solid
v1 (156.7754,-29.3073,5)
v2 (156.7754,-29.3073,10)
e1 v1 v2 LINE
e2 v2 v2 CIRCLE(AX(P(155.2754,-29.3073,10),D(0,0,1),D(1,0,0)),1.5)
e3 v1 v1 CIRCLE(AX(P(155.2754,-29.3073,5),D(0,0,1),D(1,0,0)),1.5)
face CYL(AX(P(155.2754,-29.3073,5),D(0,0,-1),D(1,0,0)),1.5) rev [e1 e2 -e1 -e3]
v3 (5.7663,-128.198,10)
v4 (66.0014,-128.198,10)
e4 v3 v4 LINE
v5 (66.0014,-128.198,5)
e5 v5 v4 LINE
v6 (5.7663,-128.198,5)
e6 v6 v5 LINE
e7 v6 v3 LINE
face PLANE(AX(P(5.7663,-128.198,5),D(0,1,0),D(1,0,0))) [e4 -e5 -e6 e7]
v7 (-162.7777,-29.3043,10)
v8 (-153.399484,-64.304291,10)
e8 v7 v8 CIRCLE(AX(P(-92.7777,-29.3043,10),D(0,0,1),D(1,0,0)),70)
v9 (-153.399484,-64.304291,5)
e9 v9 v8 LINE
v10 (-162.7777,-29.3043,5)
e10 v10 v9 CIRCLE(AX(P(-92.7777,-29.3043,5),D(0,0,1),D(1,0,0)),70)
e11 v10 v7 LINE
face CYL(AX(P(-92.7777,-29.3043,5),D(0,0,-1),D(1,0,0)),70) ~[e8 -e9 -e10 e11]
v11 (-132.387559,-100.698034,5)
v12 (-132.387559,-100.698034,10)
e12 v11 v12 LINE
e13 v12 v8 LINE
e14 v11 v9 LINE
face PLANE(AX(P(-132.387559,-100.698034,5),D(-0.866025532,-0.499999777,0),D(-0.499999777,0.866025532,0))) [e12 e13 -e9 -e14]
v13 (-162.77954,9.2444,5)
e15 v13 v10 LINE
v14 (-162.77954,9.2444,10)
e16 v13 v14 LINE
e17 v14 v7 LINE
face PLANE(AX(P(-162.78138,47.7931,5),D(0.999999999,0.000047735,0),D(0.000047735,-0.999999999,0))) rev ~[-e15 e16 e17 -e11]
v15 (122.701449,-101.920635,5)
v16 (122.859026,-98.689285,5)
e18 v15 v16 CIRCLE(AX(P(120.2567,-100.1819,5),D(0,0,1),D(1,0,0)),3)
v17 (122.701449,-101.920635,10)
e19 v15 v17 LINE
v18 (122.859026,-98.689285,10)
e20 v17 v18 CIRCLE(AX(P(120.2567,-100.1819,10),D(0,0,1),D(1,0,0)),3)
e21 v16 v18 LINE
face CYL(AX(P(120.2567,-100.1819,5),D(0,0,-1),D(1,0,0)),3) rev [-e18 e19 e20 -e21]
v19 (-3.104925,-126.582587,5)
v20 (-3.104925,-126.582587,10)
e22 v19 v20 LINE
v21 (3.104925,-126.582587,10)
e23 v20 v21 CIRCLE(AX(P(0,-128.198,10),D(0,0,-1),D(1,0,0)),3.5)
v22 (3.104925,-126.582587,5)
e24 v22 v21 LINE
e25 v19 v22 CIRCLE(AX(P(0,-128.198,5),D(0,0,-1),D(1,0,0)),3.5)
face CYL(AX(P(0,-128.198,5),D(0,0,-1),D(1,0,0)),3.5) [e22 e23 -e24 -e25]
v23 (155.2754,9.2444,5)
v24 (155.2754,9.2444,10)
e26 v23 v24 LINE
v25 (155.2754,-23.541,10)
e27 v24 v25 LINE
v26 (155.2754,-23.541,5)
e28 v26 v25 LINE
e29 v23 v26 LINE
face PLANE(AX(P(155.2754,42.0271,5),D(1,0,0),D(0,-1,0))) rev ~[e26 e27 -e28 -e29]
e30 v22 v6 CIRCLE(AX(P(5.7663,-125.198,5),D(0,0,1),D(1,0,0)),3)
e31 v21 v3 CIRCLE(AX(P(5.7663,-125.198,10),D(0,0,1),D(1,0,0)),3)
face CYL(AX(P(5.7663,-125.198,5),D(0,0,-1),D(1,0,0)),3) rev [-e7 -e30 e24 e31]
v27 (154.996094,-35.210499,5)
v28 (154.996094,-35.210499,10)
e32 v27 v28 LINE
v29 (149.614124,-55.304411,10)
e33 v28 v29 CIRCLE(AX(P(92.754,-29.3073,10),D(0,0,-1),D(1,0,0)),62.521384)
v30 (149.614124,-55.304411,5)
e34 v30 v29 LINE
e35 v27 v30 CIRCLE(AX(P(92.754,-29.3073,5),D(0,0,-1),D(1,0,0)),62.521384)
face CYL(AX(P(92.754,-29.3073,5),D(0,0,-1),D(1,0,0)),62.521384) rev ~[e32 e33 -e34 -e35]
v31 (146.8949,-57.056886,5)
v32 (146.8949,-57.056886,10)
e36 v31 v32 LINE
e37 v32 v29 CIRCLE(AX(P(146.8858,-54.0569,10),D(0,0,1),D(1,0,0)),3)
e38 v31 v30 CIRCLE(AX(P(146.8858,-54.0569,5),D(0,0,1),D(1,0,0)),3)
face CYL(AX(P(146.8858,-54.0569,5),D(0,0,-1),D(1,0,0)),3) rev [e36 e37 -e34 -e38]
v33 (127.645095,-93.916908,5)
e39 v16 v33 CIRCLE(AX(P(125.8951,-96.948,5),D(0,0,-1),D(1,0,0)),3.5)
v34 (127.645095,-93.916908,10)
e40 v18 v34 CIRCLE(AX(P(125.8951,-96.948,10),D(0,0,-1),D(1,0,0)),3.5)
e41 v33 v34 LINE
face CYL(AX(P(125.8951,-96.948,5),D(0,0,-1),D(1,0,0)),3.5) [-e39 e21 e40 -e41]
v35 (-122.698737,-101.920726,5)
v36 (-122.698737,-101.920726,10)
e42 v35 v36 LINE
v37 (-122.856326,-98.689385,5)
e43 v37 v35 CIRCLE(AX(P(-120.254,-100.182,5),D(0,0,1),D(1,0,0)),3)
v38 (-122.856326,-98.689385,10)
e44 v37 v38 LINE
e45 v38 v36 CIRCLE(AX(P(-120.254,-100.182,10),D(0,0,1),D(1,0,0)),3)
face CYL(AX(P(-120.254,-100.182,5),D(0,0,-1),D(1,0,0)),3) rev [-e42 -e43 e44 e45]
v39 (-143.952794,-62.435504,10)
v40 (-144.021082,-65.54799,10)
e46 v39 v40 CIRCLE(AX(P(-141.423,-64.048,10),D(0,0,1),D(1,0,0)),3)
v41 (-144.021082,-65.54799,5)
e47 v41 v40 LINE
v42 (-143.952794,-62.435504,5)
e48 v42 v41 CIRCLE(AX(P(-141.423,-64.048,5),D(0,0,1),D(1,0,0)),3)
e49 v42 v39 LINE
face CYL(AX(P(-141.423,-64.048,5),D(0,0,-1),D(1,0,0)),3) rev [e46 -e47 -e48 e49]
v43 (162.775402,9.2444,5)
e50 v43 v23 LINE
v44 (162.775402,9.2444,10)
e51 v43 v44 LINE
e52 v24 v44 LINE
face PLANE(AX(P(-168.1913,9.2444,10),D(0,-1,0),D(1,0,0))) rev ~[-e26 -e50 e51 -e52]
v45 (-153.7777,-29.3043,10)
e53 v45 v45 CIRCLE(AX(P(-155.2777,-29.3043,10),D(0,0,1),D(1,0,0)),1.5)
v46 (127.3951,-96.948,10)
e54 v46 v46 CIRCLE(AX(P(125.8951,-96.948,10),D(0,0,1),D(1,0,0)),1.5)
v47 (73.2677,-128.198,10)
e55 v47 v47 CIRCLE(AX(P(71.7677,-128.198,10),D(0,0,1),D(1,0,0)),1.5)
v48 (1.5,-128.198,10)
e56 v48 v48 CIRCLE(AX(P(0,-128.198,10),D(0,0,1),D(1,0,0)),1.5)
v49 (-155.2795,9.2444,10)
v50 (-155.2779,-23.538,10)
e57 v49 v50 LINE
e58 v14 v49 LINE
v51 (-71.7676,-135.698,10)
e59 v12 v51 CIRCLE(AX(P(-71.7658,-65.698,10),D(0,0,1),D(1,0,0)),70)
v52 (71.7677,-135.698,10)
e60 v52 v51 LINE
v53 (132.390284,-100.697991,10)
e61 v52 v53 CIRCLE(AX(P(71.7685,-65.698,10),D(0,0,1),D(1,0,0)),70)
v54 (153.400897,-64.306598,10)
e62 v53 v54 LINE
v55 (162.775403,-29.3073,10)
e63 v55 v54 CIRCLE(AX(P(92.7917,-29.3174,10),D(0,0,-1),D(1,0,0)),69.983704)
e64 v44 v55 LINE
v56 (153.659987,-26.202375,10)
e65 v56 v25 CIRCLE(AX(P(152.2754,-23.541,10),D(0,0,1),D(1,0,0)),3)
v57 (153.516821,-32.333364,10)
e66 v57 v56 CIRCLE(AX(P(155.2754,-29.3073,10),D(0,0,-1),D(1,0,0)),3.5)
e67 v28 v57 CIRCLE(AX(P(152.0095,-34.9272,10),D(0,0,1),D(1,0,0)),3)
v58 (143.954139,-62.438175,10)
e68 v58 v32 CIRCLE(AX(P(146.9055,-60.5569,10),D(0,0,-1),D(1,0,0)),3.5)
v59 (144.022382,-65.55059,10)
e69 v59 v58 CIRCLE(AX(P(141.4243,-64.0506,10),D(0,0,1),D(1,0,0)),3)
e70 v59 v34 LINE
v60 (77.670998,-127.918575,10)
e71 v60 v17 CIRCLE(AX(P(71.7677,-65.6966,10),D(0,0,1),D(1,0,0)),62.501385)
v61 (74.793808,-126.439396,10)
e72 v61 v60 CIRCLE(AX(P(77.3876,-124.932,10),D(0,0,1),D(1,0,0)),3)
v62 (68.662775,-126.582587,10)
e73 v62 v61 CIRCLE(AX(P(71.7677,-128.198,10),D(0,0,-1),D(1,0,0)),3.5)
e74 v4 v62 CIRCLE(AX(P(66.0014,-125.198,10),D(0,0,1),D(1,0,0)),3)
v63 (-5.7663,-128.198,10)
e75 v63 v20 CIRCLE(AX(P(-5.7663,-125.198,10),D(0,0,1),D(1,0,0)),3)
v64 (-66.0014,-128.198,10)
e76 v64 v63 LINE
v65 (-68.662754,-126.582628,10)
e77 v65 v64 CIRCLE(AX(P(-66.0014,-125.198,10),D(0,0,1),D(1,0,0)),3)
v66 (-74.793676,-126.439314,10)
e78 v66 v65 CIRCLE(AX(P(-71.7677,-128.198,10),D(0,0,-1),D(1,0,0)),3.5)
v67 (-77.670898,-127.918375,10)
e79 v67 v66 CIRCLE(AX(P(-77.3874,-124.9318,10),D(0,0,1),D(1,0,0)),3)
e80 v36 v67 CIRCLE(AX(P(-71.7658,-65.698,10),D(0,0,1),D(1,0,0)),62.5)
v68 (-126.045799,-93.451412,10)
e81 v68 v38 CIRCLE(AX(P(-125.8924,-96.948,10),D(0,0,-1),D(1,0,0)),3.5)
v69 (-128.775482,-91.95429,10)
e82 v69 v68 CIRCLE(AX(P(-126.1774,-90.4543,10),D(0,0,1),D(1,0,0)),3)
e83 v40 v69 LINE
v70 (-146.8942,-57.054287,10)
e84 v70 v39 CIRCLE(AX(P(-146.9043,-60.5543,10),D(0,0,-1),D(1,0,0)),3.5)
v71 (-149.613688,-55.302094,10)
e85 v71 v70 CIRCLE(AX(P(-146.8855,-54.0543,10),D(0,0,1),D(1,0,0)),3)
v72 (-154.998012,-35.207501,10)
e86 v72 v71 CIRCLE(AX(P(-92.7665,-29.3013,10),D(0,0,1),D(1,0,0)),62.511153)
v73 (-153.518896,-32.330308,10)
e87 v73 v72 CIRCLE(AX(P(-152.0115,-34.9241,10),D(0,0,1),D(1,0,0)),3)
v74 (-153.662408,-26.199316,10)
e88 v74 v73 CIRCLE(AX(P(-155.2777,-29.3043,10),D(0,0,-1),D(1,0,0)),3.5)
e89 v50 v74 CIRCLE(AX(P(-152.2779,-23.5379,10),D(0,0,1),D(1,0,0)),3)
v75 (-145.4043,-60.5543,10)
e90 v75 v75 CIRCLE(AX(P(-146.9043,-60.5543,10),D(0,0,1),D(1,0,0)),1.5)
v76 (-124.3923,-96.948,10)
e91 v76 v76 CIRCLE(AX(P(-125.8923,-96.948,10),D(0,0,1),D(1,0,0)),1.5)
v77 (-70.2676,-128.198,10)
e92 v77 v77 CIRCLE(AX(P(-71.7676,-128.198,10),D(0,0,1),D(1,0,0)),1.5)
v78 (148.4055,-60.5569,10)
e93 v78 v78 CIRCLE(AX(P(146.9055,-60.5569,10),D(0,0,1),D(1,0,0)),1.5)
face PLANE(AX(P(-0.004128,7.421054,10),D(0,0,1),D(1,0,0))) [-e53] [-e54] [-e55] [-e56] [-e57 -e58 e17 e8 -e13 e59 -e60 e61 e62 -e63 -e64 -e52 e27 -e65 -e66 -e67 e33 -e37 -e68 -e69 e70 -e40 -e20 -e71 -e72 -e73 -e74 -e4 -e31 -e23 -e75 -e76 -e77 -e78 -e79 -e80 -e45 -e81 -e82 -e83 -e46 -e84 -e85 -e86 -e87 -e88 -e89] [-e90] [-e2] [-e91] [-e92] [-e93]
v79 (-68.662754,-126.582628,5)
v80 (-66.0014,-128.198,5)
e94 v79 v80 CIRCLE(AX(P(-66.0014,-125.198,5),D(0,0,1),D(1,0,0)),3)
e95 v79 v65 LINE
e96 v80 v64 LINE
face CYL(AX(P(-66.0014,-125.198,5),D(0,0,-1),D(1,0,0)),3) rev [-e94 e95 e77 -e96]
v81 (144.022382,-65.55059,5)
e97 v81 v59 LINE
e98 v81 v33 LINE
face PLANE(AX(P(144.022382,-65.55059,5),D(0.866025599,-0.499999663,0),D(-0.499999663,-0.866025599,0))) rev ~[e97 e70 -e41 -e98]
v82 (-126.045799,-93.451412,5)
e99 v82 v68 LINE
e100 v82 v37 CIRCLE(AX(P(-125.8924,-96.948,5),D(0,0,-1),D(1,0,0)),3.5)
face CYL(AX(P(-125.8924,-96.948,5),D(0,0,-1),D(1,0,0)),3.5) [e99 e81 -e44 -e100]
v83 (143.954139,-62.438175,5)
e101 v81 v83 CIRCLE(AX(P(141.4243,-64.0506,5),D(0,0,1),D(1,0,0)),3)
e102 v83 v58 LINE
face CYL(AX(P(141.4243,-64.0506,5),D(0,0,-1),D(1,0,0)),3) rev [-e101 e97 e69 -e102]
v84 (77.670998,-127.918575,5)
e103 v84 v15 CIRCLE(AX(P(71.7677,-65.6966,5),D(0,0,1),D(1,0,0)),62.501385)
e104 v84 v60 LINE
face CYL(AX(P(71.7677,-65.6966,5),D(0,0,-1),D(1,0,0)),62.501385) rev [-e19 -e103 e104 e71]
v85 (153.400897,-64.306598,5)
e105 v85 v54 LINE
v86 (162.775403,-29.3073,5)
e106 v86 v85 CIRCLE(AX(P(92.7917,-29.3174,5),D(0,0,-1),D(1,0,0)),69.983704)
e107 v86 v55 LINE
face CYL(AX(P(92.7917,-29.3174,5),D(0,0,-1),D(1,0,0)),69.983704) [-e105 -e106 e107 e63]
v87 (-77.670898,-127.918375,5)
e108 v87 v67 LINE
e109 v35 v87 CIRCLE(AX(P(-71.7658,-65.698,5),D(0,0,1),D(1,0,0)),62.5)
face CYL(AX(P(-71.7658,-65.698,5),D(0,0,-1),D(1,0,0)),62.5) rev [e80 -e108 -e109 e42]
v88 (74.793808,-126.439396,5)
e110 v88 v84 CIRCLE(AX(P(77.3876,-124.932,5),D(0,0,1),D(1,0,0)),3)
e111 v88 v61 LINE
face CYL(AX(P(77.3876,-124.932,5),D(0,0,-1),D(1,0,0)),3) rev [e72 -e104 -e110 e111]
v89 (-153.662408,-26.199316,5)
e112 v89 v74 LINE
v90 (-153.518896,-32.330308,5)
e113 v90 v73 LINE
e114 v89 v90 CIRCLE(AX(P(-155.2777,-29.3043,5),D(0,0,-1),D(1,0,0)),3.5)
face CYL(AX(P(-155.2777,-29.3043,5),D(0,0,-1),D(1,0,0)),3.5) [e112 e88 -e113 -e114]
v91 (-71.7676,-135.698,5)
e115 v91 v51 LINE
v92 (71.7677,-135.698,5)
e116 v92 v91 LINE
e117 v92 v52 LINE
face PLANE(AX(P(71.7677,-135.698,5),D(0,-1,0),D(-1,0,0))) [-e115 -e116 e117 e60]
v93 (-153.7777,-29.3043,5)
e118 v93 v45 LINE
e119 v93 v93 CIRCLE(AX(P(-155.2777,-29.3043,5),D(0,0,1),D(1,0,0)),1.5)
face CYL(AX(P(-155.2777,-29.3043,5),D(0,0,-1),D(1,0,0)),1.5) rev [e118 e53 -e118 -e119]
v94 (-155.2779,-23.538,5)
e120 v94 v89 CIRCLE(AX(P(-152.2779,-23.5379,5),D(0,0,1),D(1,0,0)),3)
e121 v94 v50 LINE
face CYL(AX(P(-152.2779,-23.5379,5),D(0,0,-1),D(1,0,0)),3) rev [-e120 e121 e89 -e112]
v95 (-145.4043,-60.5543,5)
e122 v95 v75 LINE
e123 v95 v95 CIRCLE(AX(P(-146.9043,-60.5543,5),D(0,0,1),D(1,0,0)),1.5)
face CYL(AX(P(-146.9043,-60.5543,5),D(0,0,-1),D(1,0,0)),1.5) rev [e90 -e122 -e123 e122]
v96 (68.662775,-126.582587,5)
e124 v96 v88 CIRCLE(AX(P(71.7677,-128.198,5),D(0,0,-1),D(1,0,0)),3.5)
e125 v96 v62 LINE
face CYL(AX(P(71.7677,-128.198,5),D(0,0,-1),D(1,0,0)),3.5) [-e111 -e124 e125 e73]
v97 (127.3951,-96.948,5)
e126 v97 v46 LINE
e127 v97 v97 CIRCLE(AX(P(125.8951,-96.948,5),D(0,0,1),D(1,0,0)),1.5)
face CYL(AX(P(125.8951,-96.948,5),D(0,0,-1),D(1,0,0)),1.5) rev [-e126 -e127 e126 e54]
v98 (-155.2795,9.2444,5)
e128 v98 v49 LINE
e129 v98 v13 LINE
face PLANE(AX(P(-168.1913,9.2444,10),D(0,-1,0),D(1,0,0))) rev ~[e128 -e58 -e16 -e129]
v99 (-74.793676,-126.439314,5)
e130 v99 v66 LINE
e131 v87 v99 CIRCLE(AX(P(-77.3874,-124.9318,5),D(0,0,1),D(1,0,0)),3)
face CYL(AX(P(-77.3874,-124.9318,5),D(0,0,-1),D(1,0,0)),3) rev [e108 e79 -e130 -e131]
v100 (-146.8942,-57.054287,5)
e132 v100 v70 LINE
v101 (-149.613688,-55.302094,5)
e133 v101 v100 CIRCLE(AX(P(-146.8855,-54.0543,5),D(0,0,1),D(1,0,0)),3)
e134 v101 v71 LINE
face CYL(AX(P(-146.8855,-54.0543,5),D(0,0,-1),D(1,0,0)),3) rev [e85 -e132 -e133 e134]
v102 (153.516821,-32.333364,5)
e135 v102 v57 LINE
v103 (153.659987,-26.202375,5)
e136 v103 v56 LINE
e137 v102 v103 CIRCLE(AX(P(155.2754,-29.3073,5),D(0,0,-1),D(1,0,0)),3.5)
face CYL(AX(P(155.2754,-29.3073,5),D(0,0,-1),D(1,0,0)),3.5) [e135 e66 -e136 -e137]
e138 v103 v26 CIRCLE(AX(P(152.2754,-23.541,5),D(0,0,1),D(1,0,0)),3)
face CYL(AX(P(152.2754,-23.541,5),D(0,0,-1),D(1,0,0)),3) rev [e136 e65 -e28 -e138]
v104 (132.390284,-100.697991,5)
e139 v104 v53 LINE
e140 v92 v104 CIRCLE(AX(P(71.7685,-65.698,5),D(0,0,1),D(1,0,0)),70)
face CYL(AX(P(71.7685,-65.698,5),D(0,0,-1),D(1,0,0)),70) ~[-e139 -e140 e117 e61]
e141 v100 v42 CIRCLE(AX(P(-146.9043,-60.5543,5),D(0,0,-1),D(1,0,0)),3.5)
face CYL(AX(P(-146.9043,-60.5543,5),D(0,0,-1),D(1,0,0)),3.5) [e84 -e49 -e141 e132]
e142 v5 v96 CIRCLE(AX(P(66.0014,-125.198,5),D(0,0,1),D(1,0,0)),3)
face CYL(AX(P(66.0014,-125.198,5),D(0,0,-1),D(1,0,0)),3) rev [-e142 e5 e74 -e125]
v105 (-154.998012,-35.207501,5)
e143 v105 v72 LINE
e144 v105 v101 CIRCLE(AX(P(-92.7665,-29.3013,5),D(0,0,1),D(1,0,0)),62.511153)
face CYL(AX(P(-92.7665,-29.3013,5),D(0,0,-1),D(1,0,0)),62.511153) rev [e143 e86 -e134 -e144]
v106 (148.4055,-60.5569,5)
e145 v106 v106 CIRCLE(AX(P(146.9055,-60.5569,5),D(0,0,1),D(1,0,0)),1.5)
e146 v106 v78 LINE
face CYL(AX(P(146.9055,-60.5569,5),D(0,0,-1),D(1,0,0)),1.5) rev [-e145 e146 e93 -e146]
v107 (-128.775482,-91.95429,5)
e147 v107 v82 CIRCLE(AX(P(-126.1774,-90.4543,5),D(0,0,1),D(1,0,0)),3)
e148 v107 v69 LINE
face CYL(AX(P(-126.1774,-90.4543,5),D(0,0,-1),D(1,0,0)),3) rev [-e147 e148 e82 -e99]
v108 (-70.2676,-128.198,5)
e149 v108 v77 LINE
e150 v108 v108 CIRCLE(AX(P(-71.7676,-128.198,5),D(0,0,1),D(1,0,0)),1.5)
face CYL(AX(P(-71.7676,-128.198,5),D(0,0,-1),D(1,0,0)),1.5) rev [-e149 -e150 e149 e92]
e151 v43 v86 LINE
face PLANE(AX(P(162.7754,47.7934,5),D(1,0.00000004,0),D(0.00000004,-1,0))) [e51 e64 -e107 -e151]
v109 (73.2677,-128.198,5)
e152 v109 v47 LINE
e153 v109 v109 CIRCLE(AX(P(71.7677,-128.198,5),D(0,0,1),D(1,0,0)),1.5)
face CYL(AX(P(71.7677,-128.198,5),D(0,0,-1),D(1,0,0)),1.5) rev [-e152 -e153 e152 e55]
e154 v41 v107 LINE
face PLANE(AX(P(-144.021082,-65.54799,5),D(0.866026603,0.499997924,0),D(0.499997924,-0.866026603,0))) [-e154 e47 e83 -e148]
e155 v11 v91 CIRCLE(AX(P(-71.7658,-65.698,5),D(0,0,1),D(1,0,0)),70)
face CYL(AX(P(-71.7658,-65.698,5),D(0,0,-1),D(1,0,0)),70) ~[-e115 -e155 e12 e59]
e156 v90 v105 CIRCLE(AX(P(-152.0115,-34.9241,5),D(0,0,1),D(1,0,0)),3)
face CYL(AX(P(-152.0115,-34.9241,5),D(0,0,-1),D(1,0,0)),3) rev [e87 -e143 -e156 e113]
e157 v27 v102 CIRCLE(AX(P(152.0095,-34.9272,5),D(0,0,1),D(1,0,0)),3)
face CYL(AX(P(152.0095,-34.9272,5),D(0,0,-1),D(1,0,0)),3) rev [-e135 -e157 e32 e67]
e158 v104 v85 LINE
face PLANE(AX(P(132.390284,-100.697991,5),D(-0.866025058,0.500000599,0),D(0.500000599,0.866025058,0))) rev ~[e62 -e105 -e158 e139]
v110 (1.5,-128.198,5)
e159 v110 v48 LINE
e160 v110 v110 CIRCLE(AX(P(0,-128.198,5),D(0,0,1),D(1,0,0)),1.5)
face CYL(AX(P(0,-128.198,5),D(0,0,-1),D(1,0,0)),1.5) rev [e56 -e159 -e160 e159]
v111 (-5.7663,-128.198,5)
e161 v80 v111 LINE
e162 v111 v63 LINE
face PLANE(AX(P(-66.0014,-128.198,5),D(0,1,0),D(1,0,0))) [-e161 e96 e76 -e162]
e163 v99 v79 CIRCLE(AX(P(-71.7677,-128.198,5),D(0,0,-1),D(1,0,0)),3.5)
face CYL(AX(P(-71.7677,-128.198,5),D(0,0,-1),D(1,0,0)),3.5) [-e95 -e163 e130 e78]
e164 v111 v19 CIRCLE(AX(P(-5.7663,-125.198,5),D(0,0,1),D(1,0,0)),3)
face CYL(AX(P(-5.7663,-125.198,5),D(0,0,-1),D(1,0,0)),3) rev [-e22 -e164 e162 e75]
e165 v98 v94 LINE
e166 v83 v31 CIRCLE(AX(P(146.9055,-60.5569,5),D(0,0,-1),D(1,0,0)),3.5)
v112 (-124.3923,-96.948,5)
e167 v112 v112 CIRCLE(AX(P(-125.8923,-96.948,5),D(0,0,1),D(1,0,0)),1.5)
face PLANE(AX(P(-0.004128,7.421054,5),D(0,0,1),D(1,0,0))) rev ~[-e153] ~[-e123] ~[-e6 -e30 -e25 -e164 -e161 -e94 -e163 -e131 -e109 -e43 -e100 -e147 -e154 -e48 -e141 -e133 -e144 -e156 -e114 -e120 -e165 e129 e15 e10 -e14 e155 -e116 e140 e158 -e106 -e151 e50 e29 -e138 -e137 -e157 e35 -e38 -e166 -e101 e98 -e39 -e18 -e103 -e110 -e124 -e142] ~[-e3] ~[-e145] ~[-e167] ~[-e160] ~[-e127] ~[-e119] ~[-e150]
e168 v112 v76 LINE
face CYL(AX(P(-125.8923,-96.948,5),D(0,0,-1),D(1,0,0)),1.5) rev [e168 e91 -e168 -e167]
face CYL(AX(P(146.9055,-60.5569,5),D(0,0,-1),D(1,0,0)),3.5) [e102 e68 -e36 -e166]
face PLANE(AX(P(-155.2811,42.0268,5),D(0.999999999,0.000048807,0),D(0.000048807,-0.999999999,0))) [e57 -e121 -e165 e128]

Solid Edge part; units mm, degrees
sketch "Sketch1" plane through (0.0007, 14.651, 5) normal (0, 0, 1) x (1, 0, 0)
  line L0 (-114.0407, 98.8093) -> (-57.2599, 131.5929)
  arc A0 (-54.1474, 131.5247) -> (-57.2599, 131.5929) centre (-55.7598, 128.9948) ccw
  arc A1 (-47.0142, 137.1861) -> (-48.7662, 134.4664) centre (-45.7662, 134.458) ccw
  arc A2 (-47.0142, 137.1861) -> (-26.9146, 142.5706) centre (-21.0226, 80.3698) cw
  arc A3 (-24.0376, 141.0909) -> (-26.9146, 142.5706) centre (-26.6317, 139.5839) ccw
  arc A4 (-15.245, 142.849) -> (-17.9063, 141.2336) centre (-15.245, 139.849) ccw
  line L1 (-15.245, 142.849) -> (15.2436, 142.849)
  arc A5 (17.905, 141.2336) -> (15.2436, 142.849) centre (15.2436, 139.849) ccw
  arc A6 (26.9132, 142.5696) -> (24.036, 141.0904) centre (26.6298, 139.583) ccw
  arc A7 (26.9132, 142.5696) -> (47.0027, 137.1869) centre (21.0099, 80.3561) cw
  arc A8 (48.7549, 134.4673) -> (47.0027, 137.1869) centre (45.7549, 134.4587) ccw
  arc A9 (57.2487, 131.5943) -> (54.1362, 131.526) centre (55.7487, 128.9962) ccw
  line L2 (57.2487, 131.5943) -> (114.0299, 98.8129)
  arc A10 (115.5271, 96.0833) -> (114.0299, 98.8129) centre (112.5299, 96.2148) ccw
  arc A11 (124.0003, 92.7805) -> (120.7849, 92.9052) centre (122.2944, 90.3127) ccw
  arc A12 (124.0003, 92.7805) -> (155.0355, 39.027) centre (82.7747, 33.1424) cw
  arc A13 (153.5358, 36.1799) -> (155.0355, 39.027) centre (152.0454, 38.7835) ccw
  arc A14 (155.2747, 27.3761) -> (153.6593, 30.0375) centre (152.2747, 27.3761) ccw
  line L3 (155.2747, 27.3761) -> (155.2747, -38.192)
  arc A15 (153.6593, -40.8534) -> (155.2747, -38.192) centre (152.2747, -38.192) ccw
  arc A16 (154.9954, -49.8615) -> (153.5161, -46.9844) centre (152.0088, -49.5782) ccw
  arc A17 (154.9954, -49.8615) -> (149.6134, -69.9554) centre (92.7533, -43.9583) cw
  arc A18 (146.8942, -71.7079) -> (149.6134, -69.9554) centre (146.8851, -68.7079) ccw
  arc A19 (144.0217, -80.2016) -> (143.9534, -77.0892) centre (141.4236, -78.7016) ccw
  line L4 (144.0217, -80.2016) -> (127.6444, -108.5679)
  arc A20 (122.7007, -116.5716) -> (122.8583, -113.3403) centre (120.256, -114.8329) ccw
  arc A21 (77.6703, -142.5696) -> (122.7007, -116.5716) centre (71.767, -80.3476) ccw
  arc A22 (74.7931, -141.0904) -> (77.6703, -142.5696) centre (77.3869, -139.583) ccw
  arc A23 (66.0007, -142.849) -> (68.6621, -141.2336) centre (66.0007, -139.849) ccw
  line L5 (5.7656, -142.849) -> (66.0007, -142.849)
  arc A24 (3.1042, -141.2336) -> (5.7656, -142.849) centre (5.7656, -139.849) ccw
  arc A25 (-5.767, -142.849) -> (-3.1056, -141.2336) centre (-5.767, -139.849) ccw
  line L6 (-66.0021, -142.849) -> (-5.767, -142.849)
  arc A26 (-68.6634, -141.2336) -> (-66.0021, -142.849) centre (-66.0021, -139.849) ccw
  arc A27 (-77.6716, -142.5694) -> (-74.7944, -141.0903) centre (-77.3881, -139.5828) ccw
  arc A28 (-122.6994, -116.5717) -> (-77.6716, -142.5694) centre (-71.7665, -80.349) ccw
  arc A29 (-122.857, -113.3404) -> (-122.6994, -116.5717) centre (-120.2547, -114.833) ccw
  arc A30 (-128.7762, -106.6053) -> (-126.0465, -108.1024) centre (-126.1781, -105.1053) ccw
  line L7 (-144.0218, -80.199) -> (-128.7762, -106.6053)
  arc A31 (-143.9535, -77.0865) -> (-144.0218, -80.199) centre (-141.4237, -78.699) ccw
  arc A32 (-149.6144, -69.9531) -> (-146.8949, -71.7053) centre (-146.8862, -68.7053) ccw
  arc A33 (-154.9987, -49.8585) -> (-149.6144, -69.9531) centre (-92.7672, -43.9523) ccw
  arc A34 (-153.5196, -46.9813) -> (-154.9987, -49.8585) centre (-152.0122, -49.5751) ccw
  arc A35 (-155.2786, -38.189) -> (-153.6631, -40.8503) centre (-152.2786, -38.1889) ccw
  line L8 (-155.2818, 27.3758) -> (-155.2786, -38.189)
  arc A36 (-153.6665, 30.0373) -> (-155.2818, 27.3758) centre (-152.2818, 27.376) ccw
  arc A37 (-155.0428, 39.0267) -> (-153.5432, 36.1796) centre (-152.0527, 38.7832) ccw
  arc A38 (-124.0109, 92.7765) -> (-155.0428, 39.0267) centre (-82.7847, 33.1421) ccw
  arc A39 (-120.7955, 92.9014) -> (-124.0109, 92.7765) centre (-122.3049, 90.3088) ccw
  arc A40 (-114.0407, 98.8093) -> (-115.5378, 96.0796) centre (-112.5406, 96.2112) ccw
  arc A41 (-48.7662, 134.4664) -> (-54.1474, 131.5247) centre (-52.2662, 134.4761) cw
  arc A42 (-17.9064, 141.2336) -> (-24.0377, 141.0909) centre (-21.0113, 142.849) cw
  arc A43 (24.036, 141.0904) -> (17.905, 141.2336) centre (21.0099, 142.849) cw
  arc A44 (54.1362, 131.526) -> (48.7549, 134.4673) centre (52.2549, 134.4774) cw
  arc A45 (120.7849, 92.9052) -> (115.5271, 96.0832) centre (119.0237, 95.9298) cw
  arc A46 (153.6593, 30.0375) -> (153.5358, 36.1799) centre (155.2747, 33.1424) cw
  arc A47 (153.5161, -46.9844) -> (153.6593, -40.8534) centre (155.2747, -43.9583) cw
  arc A48 (143.9534, -77.0891) -> (146.8942, -71.7079) centre (146.9048, -75.2079) cw
  arc A49 (122.8584, -113.3404) -> (127.6444, -108.5679) centre (125.8944, -111.599) cw
  arc A50 (68.6621, -141.2336) -> (74.7931, -141.0904) centre (71.767, -142.849) cw
  arc A51 (-3.1056, -141.2336) -> (3.1042, -141.2336) centre (-0.0007, -142.849) cw
  arc A52 (-74.7944, -141.0903) -> (-68.6635, -141.2336) centre (-71.7684, -142.849) cw
  arc A53 (-126.0466, -108.1024) -> (-122.857, -113.3404) centre (-125.8931, -111.599) cw
  arc A54 (-146.8949, -71.7053) -> (-143.9536, -77.0866) centre (-146.905, -75.2053) cw
  arc A55 (-153.6632, -40.8503) -> (-153.5196, -46.9813) centre (-155.2784, -43.9553) cw
  arc A56 (-153.5432, 36.1796) -> (-153.6665, 30.0373) centre (-155.2821, 33.1421) cw
  arc A57 (-115.5377, 96.0796) -> (-120.7955, 92.9014) centre (-119.0344, 95.926) cw
  line L9 (-56.0166, 140.971) -> (-122.7845, 102.4212)
  arc A58 (-162.7821, 33.1421) -> (-122.7845, 102.4212) centre (-82.7847, 33.1421) cw
  line L10 (-162.7821, 33.1421) -> (-162.7784, -43.9553)
  arc A59 (-162.7784, -43.9553) -> (-153.4002, -78.9553) centre (-92.7784, -43.9553) ccw
  line L11 (-132.3882, -115.349) -> (-153.4002, -78.9553)
  arc A60 (-132.3882, -115.349) -> (-71.7683, -150.349) centre (-71.7665, -80.349) ccw
  line L12 (71.767, -150.349) -> (-71.7683, -150.349)
  arc A61 (71.767, -150.349) -> (132.3896, -115.349) centre (71.7678, -80.349) ccw
  line L13 (132.3896, -115.349) -> (153.4002, -78.9576)
  arc A62 (162.7747, -43.9583) -> (153.4002, -78.9576) centre (92.791, -43.9684) cw
  line L14 (162.7747, 33.1424) -> (162.7747, -43.9583)
  arc A63 (122.7736, 102.4251) -> (162.7747, 33.1424) centre (82.7747, 33.1424) cw
  line L15 (56.0045, 140.9728) -> (122.7736, 102.4251)
  arc A64 (21.0099, 150.349) -> (56.0045, 140.9728) centre (21.008, 80.349) cw
  line L16 (-21.0112, 150.349) -> (21.0099, 150.349)
  arc A65 (-32.5074, 149.4015) -> (-21.0112, 150.349) centre (-20.997, 79.961) cw
  arc A66 (-44.641, 146.2432) -> (-32.5074, 149.4015) centre (-21.0122, 80.3518) cw
  arc A67 (-56.0166, 140.971) -> (-44.641, 146.2432) centre (-21.0122, 80.3518) cw
  circle A68 centre (-71.7683, -142.849) radius 1.5
  circle A69 centre (-0.0007, -142.849) radius 1.5
  circle A70 centre (-125.893, -111.599) radius 1.5
  circle A71 centre (-146.905, -75.2053) radius 1.5
  circle A72 centre (-155.2784, -43.9553) radius 1.5
  circle A73 centre (-155.2821, 33.1421) radius 1.5
  circle A74 centre (-119.0344, 95.9261) radius 1.5
  circle A75 centre (-52.2662, 134.4761) radius 1.5
  circle A76 centre (-21.0112, 142.849) radius 1.5
  circle A77 centre (21.0099, 142.849) radius 1.5
  circle A78 centre (52.2549, 134.4774) radius 1.5
  circle A79 centre (119.0237, 95.9298) radius 1.5
  circle A80 centre (155.2747, 33.1424) radius 1.5
  circle A81 centre (155.2747, -43.9583) radius 1.5
  circle A82 centre (146.9048, -75.2079) radius 1.5
  circle A83 centre (125.8944, -111.599) radius 1.5
  circle A84 centre (71.767, -142.849) radius 1.5
extrude "ExtrudedProtrusion_7" add sketch "Sketch1" along normal blind 5
sketch "Sketch2" plane through (-0.003, 14.651, 10) normal (0, 0, 1) x (1, 0, 0)
  line L0 (-168.1883, -5.4066) -> (170.0115, -5.4066)
  line L1 (170.0115, -5.4066) -> (170.0115, 153.6029)
  line L2 (170.0115, 153.6029) -> (-168.1883, 153.6029)
  line L3 (-168.1883, 153.6029) -> (-168.1883, -5.4066)
extrude "Cutout1" cut sketch "Sketch2" against normal up to next
properties material "Polycarbonate"
